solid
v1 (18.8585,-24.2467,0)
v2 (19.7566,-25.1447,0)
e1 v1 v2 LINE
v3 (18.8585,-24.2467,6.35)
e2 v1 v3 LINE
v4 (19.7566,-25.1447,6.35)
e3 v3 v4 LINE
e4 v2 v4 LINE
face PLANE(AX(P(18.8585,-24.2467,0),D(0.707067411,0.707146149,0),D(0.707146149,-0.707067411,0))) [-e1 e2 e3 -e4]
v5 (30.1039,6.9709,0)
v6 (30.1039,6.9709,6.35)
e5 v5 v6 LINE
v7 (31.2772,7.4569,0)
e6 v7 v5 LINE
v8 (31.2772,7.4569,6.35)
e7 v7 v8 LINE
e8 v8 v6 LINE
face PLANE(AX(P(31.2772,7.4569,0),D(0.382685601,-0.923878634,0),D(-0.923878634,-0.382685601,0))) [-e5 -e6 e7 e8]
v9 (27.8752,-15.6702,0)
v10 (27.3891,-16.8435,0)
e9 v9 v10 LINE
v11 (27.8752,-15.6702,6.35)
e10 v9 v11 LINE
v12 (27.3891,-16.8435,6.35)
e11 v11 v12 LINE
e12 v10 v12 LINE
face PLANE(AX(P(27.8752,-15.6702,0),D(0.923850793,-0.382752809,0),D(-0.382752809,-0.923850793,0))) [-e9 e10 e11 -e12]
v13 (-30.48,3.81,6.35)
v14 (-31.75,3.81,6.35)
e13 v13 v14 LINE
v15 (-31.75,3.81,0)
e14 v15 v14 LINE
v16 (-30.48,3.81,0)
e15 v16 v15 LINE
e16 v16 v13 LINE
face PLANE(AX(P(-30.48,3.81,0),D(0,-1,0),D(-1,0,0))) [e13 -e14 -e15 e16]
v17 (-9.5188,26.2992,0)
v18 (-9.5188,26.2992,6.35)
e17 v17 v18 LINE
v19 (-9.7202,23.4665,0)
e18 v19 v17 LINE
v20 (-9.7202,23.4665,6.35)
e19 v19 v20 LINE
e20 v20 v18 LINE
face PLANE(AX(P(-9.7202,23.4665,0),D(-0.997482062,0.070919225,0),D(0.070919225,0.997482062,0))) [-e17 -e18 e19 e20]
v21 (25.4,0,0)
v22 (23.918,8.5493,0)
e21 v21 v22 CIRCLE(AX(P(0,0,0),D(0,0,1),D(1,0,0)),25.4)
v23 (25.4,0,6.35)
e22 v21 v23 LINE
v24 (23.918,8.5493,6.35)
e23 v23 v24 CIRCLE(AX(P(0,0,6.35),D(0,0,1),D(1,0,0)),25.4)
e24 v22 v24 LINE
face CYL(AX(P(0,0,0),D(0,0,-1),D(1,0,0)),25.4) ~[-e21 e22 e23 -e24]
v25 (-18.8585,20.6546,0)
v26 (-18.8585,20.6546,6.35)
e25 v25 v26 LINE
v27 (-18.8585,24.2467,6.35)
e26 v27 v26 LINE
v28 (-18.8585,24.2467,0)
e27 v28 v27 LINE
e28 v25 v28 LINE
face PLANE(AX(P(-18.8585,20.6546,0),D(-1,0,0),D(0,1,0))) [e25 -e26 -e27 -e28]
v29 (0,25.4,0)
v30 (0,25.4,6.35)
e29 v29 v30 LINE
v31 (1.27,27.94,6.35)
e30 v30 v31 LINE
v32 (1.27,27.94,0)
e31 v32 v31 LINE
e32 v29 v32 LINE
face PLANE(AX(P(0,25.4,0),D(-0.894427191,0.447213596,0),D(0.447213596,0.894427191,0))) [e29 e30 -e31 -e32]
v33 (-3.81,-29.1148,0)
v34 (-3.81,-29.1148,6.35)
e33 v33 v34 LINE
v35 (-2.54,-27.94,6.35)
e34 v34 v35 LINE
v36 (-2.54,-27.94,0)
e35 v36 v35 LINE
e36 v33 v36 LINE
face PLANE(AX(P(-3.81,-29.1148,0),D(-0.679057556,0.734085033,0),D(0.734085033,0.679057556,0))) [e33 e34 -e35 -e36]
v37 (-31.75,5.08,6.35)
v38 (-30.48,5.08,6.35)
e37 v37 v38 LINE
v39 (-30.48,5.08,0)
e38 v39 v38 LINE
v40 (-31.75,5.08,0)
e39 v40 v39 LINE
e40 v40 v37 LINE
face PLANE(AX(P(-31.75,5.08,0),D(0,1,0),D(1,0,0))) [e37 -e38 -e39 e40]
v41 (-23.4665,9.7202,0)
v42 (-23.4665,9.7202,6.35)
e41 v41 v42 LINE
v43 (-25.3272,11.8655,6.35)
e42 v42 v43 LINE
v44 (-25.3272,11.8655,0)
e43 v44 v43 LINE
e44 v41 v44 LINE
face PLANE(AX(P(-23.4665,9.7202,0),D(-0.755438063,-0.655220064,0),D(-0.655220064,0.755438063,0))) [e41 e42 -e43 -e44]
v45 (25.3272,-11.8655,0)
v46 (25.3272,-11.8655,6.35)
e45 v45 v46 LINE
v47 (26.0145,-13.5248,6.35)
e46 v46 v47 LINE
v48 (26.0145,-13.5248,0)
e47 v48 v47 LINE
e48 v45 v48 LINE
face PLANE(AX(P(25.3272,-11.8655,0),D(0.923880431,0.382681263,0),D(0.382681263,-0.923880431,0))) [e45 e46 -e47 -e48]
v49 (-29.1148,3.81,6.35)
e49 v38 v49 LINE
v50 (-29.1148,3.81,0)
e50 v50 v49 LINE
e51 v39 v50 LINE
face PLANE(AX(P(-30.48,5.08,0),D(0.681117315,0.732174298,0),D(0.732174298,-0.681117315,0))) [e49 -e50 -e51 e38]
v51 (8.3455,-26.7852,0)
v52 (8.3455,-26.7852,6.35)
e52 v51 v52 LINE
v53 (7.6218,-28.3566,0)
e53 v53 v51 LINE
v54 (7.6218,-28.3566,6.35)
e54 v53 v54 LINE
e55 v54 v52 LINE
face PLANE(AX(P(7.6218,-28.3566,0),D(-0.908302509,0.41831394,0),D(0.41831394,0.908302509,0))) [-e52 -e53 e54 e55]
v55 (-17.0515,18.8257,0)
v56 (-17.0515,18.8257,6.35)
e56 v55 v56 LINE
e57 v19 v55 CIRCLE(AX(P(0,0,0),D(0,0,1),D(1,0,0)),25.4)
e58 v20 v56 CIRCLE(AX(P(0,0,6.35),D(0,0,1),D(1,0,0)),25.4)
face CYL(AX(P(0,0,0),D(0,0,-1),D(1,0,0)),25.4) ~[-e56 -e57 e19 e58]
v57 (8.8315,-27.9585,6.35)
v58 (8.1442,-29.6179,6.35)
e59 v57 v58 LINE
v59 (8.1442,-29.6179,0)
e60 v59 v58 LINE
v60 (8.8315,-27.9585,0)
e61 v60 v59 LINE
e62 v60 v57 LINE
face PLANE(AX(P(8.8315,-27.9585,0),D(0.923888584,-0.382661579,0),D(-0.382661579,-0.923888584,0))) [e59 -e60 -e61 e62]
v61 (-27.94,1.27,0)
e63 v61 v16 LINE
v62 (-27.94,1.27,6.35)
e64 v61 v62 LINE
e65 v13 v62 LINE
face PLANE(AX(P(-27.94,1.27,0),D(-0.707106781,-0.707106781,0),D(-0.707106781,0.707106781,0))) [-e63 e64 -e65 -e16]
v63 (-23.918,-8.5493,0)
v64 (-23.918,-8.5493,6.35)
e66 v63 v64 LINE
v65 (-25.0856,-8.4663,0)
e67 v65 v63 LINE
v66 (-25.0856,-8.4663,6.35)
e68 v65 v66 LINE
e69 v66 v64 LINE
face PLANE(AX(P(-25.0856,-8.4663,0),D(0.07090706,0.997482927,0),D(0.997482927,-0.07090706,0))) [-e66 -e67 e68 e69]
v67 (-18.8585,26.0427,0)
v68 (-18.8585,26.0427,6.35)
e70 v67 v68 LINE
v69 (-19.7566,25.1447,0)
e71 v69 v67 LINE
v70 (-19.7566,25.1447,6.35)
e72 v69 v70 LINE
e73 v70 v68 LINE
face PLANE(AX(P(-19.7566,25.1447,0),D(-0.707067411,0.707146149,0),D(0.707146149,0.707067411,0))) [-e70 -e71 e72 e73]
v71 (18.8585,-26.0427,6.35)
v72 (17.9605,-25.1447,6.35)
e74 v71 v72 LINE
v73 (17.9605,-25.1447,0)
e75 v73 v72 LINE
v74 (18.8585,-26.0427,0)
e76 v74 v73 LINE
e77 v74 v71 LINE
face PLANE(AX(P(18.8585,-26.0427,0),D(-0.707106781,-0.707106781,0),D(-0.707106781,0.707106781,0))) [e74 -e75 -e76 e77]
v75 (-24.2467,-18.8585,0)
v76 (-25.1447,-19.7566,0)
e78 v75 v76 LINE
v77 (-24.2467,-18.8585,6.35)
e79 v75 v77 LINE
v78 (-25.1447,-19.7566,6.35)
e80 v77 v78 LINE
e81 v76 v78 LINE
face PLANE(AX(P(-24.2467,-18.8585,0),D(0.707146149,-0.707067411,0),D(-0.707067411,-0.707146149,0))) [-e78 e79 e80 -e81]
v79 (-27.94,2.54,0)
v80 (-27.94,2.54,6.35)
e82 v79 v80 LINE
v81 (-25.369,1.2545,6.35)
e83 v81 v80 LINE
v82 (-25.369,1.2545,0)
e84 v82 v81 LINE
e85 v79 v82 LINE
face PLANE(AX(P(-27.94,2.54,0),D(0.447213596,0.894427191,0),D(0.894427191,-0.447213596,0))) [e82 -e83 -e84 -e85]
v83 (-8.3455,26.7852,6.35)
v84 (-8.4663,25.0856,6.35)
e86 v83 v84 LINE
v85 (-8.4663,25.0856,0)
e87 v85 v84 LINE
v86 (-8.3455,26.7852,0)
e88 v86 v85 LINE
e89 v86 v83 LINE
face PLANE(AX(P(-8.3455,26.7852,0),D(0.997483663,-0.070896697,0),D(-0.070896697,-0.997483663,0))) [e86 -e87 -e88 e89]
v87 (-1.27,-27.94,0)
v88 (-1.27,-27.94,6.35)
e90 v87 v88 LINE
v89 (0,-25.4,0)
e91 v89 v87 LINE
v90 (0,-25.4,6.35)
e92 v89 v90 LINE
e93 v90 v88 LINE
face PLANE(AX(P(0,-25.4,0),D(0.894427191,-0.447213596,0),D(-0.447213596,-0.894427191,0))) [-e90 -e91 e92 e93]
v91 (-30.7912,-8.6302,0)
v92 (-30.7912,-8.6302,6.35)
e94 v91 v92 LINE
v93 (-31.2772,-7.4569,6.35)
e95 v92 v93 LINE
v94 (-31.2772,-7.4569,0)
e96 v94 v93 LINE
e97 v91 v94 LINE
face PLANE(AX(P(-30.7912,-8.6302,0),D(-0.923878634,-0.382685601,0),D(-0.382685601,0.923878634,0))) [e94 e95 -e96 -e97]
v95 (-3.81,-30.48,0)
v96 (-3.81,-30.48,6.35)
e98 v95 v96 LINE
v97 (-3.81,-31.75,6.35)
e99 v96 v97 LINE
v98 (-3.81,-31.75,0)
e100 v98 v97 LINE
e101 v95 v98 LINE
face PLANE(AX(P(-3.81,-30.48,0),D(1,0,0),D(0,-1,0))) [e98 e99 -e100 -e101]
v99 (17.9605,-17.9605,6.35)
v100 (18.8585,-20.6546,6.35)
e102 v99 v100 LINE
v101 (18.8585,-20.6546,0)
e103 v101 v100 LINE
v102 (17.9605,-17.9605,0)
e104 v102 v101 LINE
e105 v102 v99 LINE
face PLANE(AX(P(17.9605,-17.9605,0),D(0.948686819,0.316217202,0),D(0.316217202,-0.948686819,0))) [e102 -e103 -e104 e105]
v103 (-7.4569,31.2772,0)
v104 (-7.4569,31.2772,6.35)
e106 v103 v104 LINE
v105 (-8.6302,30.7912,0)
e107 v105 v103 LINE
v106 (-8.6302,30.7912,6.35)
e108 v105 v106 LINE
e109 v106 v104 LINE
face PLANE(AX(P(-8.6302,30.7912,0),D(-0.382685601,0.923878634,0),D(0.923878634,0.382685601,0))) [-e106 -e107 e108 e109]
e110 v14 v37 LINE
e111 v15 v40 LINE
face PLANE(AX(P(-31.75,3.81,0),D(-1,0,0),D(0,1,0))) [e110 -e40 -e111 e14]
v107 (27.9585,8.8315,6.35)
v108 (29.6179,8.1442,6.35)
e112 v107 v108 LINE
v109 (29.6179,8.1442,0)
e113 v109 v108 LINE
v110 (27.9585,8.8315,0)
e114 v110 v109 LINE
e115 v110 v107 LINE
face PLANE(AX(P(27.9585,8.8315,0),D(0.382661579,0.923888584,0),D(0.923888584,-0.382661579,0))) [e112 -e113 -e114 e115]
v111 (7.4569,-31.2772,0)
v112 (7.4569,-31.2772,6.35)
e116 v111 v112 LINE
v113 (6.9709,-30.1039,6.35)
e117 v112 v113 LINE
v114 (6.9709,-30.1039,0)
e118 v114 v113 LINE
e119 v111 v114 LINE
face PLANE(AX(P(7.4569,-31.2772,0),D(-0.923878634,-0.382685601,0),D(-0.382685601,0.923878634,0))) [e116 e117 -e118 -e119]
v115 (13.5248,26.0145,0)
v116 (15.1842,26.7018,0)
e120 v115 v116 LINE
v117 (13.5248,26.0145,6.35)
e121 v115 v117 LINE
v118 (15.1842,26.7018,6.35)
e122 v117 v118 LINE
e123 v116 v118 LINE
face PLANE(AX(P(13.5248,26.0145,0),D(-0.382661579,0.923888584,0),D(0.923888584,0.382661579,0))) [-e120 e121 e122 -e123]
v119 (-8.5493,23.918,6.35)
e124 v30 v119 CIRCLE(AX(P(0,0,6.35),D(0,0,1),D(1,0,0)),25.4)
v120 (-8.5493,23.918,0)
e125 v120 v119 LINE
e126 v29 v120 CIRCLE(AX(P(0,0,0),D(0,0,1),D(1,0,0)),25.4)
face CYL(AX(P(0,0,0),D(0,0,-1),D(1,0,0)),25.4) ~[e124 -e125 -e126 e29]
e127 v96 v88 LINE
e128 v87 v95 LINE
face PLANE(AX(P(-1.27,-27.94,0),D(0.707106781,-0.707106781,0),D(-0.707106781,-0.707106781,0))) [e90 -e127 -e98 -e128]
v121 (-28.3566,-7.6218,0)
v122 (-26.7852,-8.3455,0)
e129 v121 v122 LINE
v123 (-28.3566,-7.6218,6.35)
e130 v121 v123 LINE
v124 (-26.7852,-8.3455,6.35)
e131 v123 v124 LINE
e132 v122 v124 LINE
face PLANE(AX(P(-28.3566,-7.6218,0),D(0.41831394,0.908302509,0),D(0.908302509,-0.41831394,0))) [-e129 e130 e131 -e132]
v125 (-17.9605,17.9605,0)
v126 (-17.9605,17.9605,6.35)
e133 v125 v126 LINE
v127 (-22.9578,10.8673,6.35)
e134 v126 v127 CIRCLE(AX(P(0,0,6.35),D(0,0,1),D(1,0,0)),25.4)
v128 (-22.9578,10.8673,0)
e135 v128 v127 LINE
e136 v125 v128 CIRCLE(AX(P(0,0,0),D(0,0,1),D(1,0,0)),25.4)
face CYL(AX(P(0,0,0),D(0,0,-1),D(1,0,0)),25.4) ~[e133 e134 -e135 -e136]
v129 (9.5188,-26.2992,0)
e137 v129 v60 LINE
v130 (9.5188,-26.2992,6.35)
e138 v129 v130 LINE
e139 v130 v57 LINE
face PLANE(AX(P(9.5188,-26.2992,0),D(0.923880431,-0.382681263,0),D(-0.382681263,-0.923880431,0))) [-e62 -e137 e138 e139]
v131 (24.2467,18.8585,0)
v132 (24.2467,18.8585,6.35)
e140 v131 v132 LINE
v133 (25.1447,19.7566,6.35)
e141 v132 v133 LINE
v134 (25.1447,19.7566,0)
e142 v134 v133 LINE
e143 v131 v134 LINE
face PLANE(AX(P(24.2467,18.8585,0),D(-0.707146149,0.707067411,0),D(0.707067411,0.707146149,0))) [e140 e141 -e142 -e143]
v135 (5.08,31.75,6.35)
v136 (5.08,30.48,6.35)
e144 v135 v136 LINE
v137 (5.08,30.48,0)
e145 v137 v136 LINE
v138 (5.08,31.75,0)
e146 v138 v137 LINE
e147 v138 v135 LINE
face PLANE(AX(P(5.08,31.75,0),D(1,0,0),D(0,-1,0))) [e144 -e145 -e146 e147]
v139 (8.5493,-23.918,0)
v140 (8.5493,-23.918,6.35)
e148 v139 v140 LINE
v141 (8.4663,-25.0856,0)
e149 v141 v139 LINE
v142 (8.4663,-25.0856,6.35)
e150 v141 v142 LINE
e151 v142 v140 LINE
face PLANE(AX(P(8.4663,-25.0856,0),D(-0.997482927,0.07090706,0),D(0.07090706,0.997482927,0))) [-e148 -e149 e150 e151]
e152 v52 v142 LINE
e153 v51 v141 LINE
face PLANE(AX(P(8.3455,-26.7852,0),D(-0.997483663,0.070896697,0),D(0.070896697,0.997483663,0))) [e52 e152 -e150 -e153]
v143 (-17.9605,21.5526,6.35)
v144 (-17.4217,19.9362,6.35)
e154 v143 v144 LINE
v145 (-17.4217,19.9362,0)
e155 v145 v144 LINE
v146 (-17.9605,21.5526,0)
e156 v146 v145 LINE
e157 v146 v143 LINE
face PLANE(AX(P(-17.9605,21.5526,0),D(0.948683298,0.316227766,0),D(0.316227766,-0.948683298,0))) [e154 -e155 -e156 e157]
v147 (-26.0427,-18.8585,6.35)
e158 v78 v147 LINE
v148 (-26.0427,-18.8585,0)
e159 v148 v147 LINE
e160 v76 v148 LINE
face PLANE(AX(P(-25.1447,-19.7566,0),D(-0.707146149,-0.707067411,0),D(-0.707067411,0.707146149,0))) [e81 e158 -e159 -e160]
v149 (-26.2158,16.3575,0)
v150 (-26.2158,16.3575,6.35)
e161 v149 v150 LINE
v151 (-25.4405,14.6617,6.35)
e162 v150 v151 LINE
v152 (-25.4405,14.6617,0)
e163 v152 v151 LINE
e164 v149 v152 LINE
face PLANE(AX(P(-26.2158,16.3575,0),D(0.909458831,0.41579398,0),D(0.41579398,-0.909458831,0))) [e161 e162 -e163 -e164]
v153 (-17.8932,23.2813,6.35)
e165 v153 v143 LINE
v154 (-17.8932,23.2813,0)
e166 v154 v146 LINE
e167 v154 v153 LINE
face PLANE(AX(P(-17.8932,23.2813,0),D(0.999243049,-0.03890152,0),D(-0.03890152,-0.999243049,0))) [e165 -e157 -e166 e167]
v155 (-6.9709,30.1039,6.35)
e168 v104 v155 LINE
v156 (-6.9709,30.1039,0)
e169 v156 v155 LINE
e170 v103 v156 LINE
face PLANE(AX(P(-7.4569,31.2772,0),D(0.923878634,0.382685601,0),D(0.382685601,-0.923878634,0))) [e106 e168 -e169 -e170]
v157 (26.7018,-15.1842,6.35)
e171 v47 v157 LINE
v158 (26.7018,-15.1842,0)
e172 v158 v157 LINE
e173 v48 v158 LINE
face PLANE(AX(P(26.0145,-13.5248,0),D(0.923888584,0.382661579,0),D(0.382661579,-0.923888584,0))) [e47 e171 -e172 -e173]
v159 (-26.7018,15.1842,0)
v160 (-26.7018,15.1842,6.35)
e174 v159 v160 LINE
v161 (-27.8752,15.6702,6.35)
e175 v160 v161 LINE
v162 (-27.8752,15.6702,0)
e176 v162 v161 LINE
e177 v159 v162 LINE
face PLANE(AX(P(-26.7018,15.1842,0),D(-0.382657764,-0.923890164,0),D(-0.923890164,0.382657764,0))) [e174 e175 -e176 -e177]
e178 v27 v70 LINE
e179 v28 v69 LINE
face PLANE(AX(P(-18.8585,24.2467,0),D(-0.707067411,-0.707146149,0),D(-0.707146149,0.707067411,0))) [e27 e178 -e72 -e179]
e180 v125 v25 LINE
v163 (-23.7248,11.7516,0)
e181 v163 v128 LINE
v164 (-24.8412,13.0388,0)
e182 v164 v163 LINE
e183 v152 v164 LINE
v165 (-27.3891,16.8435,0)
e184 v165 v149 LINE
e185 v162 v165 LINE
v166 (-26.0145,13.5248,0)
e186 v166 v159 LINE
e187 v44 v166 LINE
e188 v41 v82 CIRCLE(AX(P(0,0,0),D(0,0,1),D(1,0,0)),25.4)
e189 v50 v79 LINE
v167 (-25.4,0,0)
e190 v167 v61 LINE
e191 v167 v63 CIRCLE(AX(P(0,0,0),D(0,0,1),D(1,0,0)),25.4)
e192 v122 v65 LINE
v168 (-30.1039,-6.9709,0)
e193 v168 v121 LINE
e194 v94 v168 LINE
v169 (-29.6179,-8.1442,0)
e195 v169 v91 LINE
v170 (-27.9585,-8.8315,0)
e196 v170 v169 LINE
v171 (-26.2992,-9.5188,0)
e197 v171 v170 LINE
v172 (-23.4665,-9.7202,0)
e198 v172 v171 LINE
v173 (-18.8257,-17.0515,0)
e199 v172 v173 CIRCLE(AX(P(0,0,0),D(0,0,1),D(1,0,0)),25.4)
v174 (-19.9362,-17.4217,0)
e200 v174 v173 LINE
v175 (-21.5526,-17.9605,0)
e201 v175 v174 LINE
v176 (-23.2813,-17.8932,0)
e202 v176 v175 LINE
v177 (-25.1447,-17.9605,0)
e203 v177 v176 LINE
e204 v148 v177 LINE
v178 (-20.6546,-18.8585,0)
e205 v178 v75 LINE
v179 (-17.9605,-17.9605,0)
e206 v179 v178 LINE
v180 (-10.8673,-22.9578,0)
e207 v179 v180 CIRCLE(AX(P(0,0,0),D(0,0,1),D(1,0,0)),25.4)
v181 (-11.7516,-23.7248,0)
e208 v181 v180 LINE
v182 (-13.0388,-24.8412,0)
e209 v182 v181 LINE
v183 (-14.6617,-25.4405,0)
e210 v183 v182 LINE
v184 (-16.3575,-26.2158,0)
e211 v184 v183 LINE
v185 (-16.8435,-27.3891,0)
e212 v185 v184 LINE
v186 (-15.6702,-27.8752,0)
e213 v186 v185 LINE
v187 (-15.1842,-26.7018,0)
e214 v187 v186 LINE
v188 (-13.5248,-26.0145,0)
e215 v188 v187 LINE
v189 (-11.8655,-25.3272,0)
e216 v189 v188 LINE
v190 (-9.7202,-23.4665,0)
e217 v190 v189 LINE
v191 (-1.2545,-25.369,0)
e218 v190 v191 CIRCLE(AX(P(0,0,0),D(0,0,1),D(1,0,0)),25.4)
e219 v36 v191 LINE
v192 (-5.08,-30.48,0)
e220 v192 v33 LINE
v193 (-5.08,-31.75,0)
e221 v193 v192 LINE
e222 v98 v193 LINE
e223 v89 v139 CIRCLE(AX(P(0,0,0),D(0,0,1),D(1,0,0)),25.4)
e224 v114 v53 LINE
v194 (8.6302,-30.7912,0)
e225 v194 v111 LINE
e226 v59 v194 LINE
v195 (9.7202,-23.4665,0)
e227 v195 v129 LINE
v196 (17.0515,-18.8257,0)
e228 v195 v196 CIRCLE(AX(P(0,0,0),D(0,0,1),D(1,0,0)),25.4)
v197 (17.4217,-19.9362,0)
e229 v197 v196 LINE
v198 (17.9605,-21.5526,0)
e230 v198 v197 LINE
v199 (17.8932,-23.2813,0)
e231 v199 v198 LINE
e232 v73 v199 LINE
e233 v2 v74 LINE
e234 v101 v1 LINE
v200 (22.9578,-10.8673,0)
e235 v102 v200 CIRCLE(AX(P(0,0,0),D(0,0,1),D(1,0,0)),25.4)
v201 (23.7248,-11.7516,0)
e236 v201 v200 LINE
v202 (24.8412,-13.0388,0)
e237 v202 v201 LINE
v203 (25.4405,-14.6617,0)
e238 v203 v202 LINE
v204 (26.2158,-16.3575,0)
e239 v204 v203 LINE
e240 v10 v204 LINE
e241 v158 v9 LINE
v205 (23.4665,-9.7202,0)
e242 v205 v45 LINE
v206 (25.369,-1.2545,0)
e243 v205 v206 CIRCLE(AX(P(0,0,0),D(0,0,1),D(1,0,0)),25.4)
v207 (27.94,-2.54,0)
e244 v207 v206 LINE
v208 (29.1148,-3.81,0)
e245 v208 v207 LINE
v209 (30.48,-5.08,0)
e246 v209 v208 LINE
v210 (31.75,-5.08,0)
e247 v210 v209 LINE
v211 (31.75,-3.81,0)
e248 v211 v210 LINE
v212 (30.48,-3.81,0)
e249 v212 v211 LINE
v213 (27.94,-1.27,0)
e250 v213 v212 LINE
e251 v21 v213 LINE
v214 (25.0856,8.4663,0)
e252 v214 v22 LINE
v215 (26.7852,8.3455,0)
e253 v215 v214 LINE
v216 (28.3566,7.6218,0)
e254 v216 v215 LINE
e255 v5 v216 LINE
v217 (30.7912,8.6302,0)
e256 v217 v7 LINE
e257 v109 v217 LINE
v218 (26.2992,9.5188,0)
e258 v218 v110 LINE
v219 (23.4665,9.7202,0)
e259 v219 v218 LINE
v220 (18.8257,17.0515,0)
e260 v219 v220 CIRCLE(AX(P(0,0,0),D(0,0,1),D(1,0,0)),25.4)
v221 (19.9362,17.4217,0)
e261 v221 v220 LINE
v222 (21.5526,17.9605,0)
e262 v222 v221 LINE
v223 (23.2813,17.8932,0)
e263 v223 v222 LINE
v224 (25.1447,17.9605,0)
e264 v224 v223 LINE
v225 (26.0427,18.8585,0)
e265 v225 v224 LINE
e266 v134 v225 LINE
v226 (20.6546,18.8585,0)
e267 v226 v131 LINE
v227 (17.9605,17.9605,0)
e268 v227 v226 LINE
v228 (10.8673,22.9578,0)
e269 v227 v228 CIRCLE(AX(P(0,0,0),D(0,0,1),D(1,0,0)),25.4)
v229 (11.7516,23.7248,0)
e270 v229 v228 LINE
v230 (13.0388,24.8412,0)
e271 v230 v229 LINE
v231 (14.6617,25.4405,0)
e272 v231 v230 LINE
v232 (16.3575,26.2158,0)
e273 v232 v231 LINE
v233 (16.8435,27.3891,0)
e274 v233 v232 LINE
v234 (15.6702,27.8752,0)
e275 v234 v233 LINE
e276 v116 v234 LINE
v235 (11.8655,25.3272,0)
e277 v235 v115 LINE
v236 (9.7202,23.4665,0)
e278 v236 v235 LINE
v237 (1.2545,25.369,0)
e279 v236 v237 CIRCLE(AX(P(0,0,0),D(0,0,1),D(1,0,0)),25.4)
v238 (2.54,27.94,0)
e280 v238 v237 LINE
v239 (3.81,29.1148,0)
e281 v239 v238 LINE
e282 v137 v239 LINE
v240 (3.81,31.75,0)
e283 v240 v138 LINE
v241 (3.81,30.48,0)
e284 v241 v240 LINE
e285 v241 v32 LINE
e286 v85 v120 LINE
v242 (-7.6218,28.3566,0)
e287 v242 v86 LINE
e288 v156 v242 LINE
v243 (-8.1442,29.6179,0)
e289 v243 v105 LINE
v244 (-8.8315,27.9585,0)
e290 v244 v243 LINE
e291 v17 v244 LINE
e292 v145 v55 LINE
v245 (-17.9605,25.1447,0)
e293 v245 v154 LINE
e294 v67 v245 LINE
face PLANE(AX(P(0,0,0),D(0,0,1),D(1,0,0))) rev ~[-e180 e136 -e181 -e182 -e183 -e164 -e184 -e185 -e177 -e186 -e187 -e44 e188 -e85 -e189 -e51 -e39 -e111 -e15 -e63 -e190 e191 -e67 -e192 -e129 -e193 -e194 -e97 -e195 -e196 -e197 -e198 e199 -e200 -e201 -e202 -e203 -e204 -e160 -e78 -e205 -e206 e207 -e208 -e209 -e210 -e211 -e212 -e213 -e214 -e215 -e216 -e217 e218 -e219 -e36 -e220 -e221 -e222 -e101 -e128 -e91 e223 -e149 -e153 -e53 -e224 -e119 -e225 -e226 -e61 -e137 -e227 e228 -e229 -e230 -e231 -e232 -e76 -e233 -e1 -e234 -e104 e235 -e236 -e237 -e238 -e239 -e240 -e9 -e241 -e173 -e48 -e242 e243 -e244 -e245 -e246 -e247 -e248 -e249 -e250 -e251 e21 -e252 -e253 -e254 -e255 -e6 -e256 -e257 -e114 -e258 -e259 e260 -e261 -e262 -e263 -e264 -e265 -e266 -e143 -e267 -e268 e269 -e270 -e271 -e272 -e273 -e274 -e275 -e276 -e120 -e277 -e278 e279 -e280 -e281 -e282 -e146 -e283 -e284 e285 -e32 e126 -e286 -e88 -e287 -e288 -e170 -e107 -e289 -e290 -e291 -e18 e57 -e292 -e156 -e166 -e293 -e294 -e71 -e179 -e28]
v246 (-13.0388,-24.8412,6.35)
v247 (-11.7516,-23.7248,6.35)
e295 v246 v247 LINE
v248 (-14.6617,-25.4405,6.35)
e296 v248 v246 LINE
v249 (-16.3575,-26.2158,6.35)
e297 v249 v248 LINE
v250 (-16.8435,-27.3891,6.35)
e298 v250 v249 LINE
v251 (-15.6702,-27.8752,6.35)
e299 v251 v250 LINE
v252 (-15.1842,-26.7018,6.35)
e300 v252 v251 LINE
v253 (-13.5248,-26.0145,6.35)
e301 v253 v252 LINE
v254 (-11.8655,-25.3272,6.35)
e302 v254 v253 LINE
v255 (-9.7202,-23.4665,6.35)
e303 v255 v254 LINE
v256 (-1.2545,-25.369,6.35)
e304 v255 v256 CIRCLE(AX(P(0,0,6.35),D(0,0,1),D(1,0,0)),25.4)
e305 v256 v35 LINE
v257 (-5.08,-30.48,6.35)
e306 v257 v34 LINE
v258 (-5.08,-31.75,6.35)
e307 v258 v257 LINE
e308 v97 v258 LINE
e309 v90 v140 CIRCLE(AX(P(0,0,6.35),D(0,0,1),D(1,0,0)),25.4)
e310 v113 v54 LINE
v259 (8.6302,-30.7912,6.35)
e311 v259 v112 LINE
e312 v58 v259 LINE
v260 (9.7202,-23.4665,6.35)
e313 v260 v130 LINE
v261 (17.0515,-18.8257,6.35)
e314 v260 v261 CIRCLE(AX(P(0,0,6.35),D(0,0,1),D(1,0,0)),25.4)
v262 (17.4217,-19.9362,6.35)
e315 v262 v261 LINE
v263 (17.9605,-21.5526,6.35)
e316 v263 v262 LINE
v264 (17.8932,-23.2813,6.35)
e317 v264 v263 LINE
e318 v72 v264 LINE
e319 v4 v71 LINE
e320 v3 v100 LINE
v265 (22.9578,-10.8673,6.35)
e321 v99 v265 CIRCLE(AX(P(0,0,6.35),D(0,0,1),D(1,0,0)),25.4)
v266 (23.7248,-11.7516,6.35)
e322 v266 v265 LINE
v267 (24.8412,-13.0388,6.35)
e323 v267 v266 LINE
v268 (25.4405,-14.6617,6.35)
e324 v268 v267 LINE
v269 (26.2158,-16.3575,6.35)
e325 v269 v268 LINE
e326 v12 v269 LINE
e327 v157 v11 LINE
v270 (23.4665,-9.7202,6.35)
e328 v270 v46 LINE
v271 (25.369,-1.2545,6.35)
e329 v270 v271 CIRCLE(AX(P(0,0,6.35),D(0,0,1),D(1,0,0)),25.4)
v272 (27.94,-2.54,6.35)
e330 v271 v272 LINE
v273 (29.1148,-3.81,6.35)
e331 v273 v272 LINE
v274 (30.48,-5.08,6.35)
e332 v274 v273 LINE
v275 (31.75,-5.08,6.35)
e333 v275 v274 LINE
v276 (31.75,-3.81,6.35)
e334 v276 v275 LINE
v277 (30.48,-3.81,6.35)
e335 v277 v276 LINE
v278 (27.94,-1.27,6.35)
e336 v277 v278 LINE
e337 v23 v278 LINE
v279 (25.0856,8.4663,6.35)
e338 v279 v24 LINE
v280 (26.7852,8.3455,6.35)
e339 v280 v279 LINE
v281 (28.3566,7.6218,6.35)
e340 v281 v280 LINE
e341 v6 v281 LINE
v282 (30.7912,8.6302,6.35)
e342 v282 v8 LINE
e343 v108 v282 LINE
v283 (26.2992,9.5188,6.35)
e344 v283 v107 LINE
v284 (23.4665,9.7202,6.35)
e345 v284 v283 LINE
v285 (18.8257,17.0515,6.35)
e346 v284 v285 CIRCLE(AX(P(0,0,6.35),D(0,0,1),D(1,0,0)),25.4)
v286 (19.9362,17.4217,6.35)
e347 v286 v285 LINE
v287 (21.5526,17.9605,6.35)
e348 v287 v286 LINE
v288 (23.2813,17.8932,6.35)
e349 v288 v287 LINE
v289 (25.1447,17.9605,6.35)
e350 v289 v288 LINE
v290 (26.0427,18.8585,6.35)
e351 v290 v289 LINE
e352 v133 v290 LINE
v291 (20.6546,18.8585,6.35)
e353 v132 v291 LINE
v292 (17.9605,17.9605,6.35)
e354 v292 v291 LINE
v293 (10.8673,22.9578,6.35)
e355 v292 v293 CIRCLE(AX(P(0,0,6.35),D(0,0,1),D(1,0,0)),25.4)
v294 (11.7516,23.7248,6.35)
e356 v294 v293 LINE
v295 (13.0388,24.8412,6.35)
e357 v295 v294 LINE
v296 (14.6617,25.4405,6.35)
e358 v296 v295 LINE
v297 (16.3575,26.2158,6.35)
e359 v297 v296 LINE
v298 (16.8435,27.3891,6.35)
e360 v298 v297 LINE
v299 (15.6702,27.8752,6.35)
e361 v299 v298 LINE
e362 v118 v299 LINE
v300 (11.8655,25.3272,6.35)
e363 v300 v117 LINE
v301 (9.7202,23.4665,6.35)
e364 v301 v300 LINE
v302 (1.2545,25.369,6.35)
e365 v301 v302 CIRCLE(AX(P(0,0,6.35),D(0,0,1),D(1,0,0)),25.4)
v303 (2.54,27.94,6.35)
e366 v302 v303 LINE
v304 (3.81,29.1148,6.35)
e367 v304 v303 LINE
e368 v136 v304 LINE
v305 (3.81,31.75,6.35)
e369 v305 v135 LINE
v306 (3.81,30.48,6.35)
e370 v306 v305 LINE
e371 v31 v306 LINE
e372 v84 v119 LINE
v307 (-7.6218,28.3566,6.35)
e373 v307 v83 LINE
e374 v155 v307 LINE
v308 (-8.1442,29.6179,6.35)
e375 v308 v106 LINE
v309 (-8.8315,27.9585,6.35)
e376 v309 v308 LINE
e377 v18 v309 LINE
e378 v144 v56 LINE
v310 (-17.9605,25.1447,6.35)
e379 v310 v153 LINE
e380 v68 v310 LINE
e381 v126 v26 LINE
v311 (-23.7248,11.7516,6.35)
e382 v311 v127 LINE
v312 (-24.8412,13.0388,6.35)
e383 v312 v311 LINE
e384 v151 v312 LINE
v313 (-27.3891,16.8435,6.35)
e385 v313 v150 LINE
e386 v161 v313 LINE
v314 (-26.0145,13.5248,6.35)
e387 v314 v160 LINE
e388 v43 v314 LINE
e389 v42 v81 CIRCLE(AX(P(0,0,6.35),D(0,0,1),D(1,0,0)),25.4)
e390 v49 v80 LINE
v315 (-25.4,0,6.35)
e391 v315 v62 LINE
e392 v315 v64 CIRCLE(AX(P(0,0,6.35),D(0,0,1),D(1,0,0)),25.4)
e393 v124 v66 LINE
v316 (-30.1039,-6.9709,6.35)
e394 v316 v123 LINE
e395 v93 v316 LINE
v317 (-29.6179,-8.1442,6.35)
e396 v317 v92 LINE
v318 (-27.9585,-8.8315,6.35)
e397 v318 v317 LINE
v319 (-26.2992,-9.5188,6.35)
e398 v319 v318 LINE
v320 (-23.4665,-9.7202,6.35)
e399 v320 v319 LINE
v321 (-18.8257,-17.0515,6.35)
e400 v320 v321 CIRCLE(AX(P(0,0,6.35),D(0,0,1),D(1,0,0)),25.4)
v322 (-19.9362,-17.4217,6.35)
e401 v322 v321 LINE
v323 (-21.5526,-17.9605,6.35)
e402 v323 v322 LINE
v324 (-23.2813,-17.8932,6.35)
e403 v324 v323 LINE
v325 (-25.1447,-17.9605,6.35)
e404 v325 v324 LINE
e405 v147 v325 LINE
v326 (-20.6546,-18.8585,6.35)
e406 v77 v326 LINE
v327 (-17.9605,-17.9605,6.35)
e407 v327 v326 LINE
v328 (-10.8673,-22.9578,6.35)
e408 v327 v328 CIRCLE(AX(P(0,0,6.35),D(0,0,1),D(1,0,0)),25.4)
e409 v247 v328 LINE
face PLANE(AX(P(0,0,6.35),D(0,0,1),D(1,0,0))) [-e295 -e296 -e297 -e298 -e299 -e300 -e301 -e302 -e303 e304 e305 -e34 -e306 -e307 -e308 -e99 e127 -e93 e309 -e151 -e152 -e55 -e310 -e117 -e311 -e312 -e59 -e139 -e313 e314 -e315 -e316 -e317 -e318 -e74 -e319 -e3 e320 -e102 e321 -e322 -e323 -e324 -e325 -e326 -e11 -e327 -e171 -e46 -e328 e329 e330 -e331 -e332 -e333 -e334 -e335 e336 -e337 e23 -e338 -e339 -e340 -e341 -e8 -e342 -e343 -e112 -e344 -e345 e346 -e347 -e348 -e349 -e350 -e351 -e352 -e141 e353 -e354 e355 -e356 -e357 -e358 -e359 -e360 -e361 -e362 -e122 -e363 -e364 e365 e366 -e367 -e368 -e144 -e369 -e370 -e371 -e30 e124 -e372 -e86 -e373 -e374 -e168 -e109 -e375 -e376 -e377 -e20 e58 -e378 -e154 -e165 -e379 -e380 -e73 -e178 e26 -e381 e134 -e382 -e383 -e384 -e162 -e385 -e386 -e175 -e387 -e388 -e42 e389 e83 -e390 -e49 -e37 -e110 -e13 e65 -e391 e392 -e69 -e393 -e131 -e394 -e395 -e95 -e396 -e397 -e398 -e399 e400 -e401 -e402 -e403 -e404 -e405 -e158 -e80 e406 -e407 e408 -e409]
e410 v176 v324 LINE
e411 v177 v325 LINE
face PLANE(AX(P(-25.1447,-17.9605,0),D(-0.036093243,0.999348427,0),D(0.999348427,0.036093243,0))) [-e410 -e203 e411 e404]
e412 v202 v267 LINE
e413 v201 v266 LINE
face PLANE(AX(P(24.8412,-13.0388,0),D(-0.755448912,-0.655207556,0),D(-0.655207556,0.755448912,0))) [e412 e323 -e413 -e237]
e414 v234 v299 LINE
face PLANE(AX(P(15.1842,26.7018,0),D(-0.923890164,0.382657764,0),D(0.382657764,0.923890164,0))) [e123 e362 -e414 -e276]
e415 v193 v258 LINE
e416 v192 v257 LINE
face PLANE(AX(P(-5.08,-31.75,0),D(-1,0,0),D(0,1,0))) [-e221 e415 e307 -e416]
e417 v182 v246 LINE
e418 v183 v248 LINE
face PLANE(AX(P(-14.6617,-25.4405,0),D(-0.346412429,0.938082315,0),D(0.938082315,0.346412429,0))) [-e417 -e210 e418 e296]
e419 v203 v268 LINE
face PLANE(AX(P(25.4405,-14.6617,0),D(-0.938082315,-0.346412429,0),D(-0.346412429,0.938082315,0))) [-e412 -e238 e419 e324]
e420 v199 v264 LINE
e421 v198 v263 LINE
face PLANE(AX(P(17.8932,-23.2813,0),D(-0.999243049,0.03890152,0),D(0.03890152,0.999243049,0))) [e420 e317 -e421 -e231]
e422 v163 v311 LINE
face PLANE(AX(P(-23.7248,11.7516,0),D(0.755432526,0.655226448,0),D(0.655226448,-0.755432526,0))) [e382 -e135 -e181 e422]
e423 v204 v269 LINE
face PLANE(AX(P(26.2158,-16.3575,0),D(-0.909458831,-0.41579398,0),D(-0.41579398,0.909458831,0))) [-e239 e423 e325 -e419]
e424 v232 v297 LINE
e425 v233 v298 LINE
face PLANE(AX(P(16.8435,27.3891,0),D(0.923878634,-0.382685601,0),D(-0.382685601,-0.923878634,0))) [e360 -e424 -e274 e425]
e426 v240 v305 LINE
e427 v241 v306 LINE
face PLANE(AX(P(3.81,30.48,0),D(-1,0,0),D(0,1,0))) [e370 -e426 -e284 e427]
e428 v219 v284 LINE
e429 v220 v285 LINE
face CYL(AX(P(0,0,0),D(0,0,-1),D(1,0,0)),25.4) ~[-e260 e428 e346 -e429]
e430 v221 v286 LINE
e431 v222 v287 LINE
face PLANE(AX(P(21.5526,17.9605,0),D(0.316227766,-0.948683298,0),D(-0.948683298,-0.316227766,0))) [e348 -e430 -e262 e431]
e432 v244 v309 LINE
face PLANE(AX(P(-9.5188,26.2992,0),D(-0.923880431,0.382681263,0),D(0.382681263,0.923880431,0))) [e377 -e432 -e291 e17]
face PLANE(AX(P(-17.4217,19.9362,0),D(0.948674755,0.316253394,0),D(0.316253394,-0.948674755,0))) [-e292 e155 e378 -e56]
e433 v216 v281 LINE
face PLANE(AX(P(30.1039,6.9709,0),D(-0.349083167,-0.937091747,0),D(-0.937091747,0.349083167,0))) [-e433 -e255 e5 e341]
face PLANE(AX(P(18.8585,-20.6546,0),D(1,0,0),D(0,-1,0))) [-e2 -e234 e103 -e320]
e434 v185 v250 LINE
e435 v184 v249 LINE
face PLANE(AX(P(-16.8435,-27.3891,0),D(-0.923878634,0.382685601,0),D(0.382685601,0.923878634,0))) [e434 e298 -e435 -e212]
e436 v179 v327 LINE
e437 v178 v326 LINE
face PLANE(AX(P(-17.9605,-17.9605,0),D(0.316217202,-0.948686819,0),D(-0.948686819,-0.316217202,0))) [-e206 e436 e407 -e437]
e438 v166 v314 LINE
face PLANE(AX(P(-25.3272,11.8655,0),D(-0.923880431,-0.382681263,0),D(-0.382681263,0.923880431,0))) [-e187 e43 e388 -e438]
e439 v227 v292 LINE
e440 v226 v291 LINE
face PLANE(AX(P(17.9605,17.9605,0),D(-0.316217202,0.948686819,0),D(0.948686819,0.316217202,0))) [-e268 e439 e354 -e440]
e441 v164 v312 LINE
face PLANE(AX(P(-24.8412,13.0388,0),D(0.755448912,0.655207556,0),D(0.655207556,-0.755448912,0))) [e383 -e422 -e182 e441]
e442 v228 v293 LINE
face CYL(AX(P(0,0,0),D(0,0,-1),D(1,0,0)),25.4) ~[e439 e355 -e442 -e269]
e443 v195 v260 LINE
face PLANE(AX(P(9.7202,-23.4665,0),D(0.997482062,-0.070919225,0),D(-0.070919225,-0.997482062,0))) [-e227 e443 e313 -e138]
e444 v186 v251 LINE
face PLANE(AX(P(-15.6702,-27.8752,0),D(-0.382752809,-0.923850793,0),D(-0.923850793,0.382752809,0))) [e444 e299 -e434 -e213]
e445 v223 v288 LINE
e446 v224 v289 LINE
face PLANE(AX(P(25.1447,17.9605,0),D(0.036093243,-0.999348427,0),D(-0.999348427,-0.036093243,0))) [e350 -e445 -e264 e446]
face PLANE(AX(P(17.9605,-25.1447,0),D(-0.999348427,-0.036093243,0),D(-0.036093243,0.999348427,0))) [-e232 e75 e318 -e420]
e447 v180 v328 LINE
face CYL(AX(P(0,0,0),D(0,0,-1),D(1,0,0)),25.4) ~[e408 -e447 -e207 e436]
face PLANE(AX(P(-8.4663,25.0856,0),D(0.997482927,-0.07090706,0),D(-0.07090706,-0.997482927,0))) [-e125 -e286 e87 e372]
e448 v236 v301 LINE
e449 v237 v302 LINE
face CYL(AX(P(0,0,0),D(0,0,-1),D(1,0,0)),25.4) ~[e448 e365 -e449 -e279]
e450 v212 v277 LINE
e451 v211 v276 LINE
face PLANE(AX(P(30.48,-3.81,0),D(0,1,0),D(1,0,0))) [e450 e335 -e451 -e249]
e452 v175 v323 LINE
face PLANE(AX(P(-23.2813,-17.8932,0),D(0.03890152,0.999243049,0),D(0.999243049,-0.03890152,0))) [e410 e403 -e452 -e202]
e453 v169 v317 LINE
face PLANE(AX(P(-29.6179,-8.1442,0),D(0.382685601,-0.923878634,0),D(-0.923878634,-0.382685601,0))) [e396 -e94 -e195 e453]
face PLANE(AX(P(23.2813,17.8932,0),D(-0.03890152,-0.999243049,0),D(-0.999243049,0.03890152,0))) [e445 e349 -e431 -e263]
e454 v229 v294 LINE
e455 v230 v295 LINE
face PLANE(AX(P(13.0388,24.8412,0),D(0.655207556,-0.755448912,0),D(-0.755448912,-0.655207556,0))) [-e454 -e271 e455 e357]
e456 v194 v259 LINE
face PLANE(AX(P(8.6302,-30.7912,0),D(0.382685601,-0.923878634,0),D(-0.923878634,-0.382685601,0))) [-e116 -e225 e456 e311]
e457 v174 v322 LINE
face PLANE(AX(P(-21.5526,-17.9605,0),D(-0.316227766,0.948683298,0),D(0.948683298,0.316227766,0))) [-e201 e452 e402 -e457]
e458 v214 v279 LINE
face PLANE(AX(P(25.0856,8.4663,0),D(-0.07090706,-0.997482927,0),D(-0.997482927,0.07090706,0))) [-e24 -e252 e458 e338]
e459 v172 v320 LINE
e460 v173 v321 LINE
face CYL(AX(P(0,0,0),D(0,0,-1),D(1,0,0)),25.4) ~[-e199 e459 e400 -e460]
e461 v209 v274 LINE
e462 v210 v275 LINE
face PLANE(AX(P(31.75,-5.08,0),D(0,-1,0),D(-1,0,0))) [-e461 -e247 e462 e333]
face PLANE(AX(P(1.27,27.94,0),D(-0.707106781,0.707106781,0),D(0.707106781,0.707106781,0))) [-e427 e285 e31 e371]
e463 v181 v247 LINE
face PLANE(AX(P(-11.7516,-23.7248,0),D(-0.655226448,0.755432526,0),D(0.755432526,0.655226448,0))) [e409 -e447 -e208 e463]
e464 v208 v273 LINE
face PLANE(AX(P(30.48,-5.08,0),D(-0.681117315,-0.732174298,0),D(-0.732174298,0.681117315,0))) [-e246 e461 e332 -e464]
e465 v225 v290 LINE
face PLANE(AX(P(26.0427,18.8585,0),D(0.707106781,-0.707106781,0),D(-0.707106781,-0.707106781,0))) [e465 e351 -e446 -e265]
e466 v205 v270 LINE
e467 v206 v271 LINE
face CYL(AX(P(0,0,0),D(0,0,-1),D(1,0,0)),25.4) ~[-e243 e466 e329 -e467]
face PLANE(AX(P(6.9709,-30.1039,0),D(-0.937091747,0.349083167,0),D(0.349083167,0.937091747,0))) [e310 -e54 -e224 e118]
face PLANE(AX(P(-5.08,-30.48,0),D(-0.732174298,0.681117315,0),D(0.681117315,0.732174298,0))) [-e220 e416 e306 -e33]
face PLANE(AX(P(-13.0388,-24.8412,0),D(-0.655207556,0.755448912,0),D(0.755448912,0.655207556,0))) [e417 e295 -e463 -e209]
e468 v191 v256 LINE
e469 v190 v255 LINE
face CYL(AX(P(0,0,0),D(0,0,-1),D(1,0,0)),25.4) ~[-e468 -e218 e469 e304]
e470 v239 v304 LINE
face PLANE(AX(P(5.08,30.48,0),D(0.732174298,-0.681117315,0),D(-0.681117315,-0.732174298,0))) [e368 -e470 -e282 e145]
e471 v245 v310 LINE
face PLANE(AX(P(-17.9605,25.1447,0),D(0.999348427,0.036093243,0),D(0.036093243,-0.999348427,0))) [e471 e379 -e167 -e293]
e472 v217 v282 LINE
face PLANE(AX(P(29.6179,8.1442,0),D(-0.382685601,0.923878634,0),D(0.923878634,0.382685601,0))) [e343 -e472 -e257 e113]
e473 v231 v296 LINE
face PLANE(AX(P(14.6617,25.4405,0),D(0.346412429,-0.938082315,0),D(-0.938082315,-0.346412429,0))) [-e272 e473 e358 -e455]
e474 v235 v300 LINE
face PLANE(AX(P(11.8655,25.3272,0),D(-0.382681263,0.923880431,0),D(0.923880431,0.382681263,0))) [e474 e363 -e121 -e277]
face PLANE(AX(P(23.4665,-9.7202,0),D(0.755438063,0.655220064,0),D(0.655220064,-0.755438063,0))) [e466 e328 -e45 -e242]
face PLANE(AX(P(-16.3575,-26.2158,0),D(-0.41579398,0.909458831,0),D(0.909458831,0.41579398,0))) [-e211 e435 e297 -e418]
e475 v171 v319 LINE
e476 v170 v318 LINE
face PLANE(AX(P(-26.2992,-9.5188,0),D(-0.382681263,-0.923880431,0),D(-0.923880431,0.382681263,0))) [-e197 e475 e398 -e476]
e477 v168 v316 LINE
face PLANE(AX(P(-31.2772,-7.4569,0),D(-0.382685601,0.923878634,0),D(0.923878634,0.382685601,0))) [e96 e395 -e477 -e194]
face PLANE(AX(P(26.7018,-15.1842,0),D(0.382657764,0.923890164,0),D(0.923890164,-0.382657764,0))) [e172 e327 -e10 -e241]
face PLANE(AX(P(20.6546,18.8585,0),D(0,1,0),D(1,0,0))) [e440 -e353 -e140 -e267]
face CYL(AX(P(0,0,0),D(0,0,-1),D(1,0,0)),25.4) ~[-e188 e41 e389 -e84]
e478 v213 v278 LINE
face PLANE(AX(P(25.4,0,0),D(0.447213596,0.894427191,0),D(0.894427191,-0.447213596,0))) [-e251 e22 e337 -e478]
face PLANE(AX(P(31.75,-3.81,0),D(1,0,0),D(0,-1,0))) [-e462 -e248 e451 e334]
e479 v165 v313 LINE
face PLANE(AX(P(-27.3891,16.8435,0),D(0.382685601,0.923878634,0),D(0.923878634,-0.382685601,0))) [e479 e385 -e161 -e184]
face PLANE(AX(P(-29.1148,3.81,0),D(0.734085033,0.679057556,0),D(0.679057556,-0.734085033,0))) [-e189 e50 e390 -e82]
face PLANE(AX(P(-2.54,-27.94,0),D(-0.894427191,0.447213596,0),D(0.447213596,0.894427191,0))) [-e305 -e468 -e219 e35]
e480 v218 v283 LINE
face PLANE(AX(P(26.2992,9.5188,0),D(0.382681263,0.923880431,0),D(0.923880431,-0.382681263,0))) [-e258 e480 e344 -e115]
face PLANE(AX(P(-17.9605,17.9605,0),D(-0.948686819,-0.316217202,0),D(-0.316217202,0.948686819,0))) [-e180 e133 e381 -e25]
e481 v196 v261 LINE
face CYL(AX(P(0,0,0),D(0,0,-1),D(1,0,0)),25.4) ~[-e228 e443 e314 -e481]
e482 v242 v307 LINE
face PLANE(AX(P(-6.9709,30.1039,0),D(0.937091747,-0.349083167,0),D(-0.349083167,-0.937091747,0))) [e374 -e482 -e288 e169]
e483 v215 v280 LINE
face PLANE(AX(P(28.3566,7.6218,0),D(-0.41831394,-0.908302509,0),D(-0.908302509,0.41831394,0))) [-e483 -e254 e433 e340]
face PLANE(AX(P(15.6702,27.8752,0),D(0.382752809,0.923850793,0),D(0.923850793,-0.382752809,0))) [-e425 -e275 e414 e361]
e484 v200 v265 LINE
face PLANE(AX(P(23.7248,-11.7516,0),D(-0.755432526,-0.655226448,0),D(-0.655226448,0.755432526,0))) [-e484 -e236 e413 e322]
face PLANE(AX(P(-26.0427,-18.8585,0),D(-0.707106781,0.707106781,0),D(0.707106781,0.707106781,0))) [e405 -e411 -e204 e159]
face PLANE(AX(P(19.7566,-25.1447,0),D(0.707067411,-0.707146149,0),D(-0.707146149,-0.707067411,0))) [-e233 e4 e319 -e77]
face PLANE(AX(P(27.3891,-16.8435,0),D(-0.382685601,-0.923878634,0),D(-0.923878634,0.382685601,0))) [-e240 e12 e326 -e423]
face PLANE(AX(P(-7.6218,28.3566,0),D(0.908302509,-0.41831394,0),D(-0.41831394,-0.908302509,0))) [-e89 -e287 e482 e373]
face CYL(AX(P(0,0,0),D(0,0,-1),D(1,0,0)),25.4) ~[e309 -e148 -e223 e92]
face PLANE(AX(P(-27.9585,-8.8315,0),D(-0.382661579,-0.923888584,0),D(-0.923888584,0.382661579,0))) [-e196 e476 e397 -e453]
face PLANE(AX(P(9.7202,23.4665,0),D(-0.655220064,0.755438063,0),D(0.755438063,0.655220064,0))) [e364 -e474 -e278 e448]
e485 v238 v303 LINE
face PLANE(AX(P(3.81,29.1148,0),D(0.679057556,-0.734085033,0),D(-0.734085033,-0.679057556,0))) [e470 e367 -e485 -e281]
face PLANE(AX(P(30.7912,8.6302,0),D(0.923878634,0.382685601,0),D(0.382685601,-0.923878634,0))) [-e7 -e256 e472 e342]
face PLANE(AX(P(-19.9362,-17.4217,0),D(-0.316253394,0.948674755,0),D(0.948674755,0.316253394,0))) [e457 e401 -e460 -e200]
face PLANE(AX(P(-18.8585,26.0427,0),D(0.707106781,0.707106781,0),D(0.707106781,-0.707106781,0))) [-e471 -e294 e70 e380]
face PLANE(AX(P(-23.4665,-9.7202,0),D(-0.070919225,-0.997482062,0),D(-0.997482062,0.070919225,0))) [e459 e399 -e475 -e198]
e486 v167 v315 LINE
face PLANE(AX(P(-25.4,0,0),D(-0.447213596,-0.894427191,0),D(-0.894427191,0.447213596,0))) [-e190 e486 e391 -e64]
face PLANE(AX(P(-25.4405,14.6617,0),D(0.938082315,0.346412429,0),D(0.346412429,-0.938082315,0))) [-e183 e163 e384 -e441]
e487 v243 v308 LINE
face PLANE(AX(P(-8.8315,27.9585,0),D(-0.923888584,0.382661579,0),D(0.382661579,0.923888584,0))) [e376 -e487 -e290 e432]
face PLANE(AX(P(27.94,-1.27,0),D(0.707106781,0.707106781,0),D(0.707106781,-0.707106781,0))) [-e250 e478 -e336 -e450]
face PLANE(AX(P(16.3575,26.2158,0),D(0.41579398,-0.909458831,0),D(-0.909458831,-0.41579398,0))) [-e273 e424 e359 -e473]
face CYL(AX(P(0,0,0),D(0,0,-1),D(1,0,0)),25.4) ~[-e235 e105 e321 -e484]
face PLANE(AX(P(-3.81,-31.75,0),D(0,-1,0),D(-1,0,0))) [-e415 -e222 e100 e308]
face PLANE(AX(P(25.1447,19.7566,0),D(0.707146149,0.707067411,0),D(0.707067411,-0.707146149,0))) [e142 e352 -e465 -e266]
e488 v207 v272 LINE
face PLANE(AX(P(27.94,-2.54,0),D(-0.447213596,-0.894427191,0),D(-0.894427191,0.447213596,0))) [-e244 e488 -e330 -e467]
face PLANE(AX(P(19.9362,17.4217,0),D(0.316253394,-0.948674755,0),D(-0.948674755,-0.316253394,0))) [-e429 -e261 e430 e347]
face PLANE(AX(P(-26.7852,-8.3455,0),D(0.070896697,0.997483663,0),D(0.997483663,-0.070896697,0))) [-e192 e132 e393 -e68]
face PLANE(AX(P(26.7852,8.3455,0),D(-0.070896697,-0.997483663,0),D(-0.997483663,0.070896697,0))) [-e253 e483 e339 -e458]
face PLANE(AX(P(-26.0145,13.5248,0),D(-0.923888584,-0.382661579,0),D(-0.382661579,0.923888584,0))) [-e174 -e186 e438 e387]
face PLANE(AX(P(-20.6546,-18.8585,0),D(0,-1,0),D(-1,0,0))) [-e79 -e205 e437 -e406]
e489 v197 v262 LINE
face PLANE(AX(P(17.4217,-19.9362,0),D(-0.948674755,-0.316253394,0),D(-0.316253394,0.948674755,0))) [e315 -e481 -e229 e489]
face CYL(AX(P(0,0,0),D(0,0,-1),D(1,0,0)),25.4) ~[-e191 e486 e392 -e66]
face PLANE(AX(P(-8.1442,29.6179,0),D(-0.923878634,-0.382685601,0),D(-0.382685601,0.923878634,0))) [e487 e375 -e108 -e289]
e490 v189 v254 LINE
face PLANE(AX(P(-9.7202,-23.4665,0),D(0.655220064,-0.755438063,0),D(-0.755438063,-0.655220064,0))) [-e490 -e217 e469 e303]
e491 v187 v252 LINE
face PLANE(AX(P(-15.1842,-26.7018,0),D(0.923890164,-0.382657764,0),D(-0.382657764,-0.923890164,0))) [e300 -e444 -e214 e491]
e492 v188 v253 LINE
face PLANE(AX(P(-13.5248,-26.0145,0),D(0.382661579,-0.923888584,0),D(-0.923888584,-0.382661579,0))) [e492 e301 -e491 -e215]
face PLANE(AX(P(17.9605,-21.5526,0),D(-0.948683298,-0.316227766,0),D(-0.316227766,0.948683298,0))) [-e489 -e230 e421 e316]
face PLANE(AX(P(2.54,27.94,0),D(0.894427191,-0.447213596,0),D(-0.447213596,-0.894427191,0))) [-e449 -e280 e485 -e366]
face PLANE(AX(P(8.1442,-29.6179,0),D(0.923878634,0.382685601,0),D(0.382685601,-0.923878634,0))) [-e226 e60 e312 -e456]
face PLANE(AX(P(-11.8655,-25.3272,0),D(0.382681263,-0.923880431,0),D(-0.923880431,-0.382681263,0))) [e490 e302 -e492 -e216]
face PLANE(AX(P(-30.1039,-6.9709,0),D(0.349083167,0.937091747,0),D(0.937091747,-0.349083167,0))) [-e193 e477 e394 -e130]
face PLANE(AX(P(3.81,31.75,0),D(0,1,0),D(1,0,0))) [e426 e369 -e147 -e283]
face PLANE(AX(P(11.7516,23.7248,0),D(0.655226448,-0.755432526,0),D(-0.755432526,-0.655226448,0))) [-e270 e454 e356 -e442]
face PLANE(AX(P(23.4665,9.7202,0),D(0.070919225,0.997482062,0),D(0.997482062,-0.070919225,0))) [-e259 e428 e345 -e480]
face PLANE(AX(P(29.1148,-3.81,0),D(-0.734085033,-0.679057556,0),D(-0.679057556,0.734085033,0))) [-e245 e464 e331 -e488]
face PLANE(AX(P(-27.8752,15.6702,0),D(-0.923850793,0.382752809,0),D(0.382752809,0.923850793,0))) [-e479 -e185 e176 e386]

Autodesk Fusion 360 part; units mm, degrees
sketch "Sketch1" plane through (0, 0, 0) normal (0, 0, 1) x (1, 0, 0)
  line L0 (0, 25.4) -> (1.27, 27.94)
  line L1 (1.27, 27.94) -> (2.54, 29.21)
  line L2 (2.54, 29.21) -> (3.81, 30.48)
  line L3 (3.81, 30.48) -> (3.81, 31.75)
  line L4 (3.81, 31.75) -> (5.08, 31.75)
  line L5 (5.08, 31.75) -> (5.08, 30.48)
  line L6 (5.08, 30.48) -> (3.81, 29.1148)
  line L7 (3.81, 29.1148) -> (2.54, 27.94)
  line L8 (2.54, 27.94) -> (1.778, 26.416)
  line L9 (1.778, 26.416) -> (1.2545, 25.369)
  arc A0 (1.2545, 25.369) -> (0, 25.4) centre (0, 0) ccw
  line L10 (-8.4663, 25.0856) -> (-8.5493, 23.918)
  line L11 (-8.8315, 27.9585) -> (-8.1442, 29.6179)
  arc A1 (-8.5493, 23.918) -> (-9.7202, 23.4665) centre (0, 0) ccw
  line L12 (-7.4569, 31.2772) -> (-6.9709, 30.1039)
  line L13 (-8.3455, 26.7852) -> (-8.4663, 25.0856)
  line L14 (-6.9709, 30.1039) -> (-7.6218, 28.3566)
  line L15 (-9.5188, 26.2992) -> (-8.8315, 27.9585)
  line L16 (-8.1442, 29.6179) -> (-8.6302, 30.7912)
  line L17 (-8.6302, 30.7912) -> (-7.4569, 31.2772)
  line L18 (-9.7202, 23.4665) -> (-9.5188, 26.2992)
  line L19 (-7.6218, 28.3566) -> (-8.3455, 26.7852)
  line L20 (-17.4217, 19.9362) -> (-17.0515, 18.8257)
  line L21 (-18.8585, 22.4506) -> (-18.8585, 24.2467)
  arc A2 (-17.0515, 18.8257) -> (-17.9605, 17.9605) centre (0, 0) ccw
  line L22 (-18.8585, 26.0427) -> (-17.9605, 25.1447)
  line L23 (-17.9605, 21.5526) -> (-17.4217, 19.9362)
  line L24 (-17.9605, 25.1447) -> (-17.8932, 23.2813)
  line L25 (-18.8585, 20.6546) -> (-18.8585, 22.4506)
  line L26 (-18.8585, 24.2467) -> (-19.7566, 25.1447)
  line L27 (-19.7566, 25.1447) -> (-18.8585, 26.0427)
  line L28 (-17.9605, 17.9605) -> (-18.8585, 20.6546)
  line L29 (-17.8932, 23.2813) -> (-17.9605, 21.5526)
  line L30 (-23.7248, 11.7516) -> (-22.9578, 10.8673)
  line L31 (-26.0145, 13.5248) -> (-26.7018, 15.1842)
  arc A3 (-22.9578, 10.8673) -> (-23.4665, 9.7202) centre (0, 0) ccw
  line L32 (-27.3891, 16.8435) -> (-26.2158, 16.3575)
  line L33 (-24.8412, 13.0388) -> (-23.7248, 11.7516)
  line L34 (-26.2158, 16.3575) -> (-25.4405, 14.6617)
  line L35 (-25.3272, 11.8655) -> (-26.0145, 13.5248)
  line L36 (-26.7018, 15.1842) -> (-27.8752, 15.6702)
  line L37 (-27.8752, 15.6702) -> (-27.3891, 16.8435)
  line L38 (-23.4665, 9.7202) -> (-25.3272, 11.8655)
  line L39 (-25.4405, 14.6617) -> (-24.8412, 13.0388)
  line L40 (-26.416, 1.778) -> (-25.369, 1.2545)
  line L41 (-29.21, 2.54) -> (-30.48, 3.81)
  arc A4 (-25.369, 1.2545) -> (-25.4, 0) centre (0, 0) ccw
  line L42 (-31.75, 5.08) -> (-30.48, 5.08)
  line L43 (-27.94, 2.54) -> (-26.416, 1.778)
  line L44 (-30.48, 5.08) -> (-29.1148, 3.81)
  line L45 (-27.94, 1.27) -> (-29.21, 2.54)
  line L46 (-30.48, 3.81) -> (-31.75, 3.81)
  line L47 (-31.75, 3.81) -> (-31.75, 5.08)
  line L48 (-25.4, 0) -> (-27.94, 1.27)
  line L49 (-29.1148, 3.81) -> (-27.94, 2.54)
  line L50 (-25.0856, -8.4663) -> (-23.918, -8.5493)
  line L51 (-27.9585, -8.8315) -> (-29.6179, -8.1442)
  arc A5 (-23.918, -8.5493) -> (-23.4665, -9.7202) centre (0, 0) ccw
  line L52 (-31.2772, -7.4569) -> (-30.1039, -6.9709)
  line L53 (-26.7852, -8.3455) -> (-25.0856, -8.4663)
  line L54 (-30.1039, -6.9709) -> (-28.3566, -7.6218)
  line L55 (-26.2992, -9.5188) -> (-27.9585, -8.8315)
  line L56 (-29.6179, -8.1442) -> (-30.7912, -8.6302)
  line L57 (-30.7912, -8.6302) -> (-31.2772, -7.4569)
  line L58 (-23.4665, -9.7202) -> (-26.2992, -9.5188)
  line L59 (-28.3566, -7.6218) -> (-26.7852, -8.3455)
  line L60 (-19.9362, -17.4217) -> (-18.8257, -17.0515)
  line L61 (-22.4506, -18.8585) -> (-24.2467, -18.8585)
  arc A6 (-18.8257, -17.0515) -> (-17.9605, -17.9605) centre (0, 0) ccw
  line L62 (-26.0427, -18.8585) -> (-25.1447, -17.9605)
  line L63 (-21.5526, -17.9605) -> (-19.9362, -17.4217)
  line L64 (-25.1447, -17.9605) -> (-23.2813, -17.8932)
  line L65 (-20.6546, -18.8585) -> (-22.4506, -18.8585)
  line L66 (-24.2467, -18.8585) -> (-25.1447, -19.7566)
  line L67 (-25.1447, -19.7566) -> (-26.0427, -18.8585)
  line L68 (-17.9605, -17.9605) -> (-20.6546, -18.8585)
  line L69 (-23.2813, -17.8932) -> (-21.5526, -17.9605)
  line L70 (-11.7516, -23.7248) -> (-10.8673, -22.9578)
  line L71 (-13.5248, -26.0145) -> (-15.1842, -26.7018)
  arc A7 (-10.8673, -22.9578) -> (-9.7202, -23.4665) centre (0, 0) ccw
  line L72 (-16.8435, -27.3891) -> (-16.3575, -26.2158)
  line L73 (-13.0388, -24.8412) -> (-11.7516, -23.7248)
  line L74 (-16.3575, -26.2158) -> (-14.6617, -25.4405)
  line L75 (-11.8655, -25.3272) -> (-13.5248, -26.0145)
  line L76 (-15.1842, -26.7018) -> (-15.6702, -27.8752)
  line L77 (-15.6702, -27.8752) -> (-16.8435, -27.3891)
  line L78 (-9.7202, -23.4665) -> (-11.8655, -25.3272)
  line L79 (-14.6617, -25.4405) -> (-13.0388, -24.8412)
  line L80 (-1.778, -26.416) -> (-1.2545, -25.369)
  line L81 (-2.54, -29.21) -> (-3.81, -30.48)
  arc A8 (-1.2545, -25.369) -> (0, -25.4) centre (0, 0) ccw
  line L82 (-5.08, -31.75) -> (-5.08, -30.48)
  line L83 (-2.54, -27.94) -> (-1.778, -26.416)
  line L84 (-5.08, -30.48) -> (-3.81, -29.1148)
  line L85 (-1.27, -27.94) -> (-2.54, -29.21)
  line L86 (-3.81, -30.48) -> (-3.81, -31.75)
  line L87 (-3.81, -31.75) -> (-5.08, -31.75)
  line L88 (0, -25.4) -> (-1.27, -27.94)
  line L89 (-3.81, -29.1148) -> (-2.54, -27.94)
  line L90 (8.4663, -25.0856) -> (8.5493, -23.918)
  line L91 (8.8315, -27.9585) -> (8.1442, -29.6179)
  arc A9 (8.5493, -23.918) -> (9.7202, -23.4665) centre (0, 0) ccw
  line L92 (7.4569, -31.2772) -> (6.9709, -30.1039)
  line L93 (8.3455, -26.7852) -> (8.4663, -25.0856)
  line L94 (6.9709, -30.1039) -> (7.6218, -28.3566)
  line L95 (9.5188, -26.2992) -> (8.8315, -27.9585)
  line L96 (8.1442, -29.6179) -> (8.6302, -30.7912)
  line L97 (8.6302, -30.7912) -> (7.4569, -31.2772)
  line L98 (9.7202, -23.4665) -> (9.5188, -26.2992)
  line L99 (7.6218, -28.3566) -> (8.3455, -26.7852)
  line L100 (17.4217, -19.9362) -> (17.0515, -18.8257)
  line L101 (18.8585, -22.4506) -> (18.8585, -24.2467)
  arc A10 (17.0515, -18.8257) -> (17.9605, -17.9605) centre (0, 0) ccw
  line L102 (18.8585, -26.0427) -> (17.9605, -25.1447)
  line L103 (17.9605, -21.5526) -> (17.4217, -19.9362)
  line L104 (17.9605, -25.1447) -> (17.8932, -23.2813)
  line L105 (18.8585, -20.6546) -> (18.8585, -22.4506)
  line L106 (18.8585, -24.2467) -> (19.7566, -25.1447)
  line L107 (19.7566, -25.1447) -> (18.8585, -26.0427)
  line L108 (17.9605, -17.9605) -> (18.8585, -20.6546)
  line L109 (17.8932, -23.2813) -> (17.9605, -21.5526)
  line L110 (23.7248, -11.7516) -> (22.9578, -10.8673)
  line L111 (26.0145, -13.5248) -> (26.7018, -15.1842)
  arc A11 (22.9578, -10.8673) -> (23.4665, -9.7202) centre (0, 0) ccw
  line L112 (27.3891, -16.8435) -> (26.2158, -16.3575)
  line L113 (24.8412, -13.0388) -> (23.7248, -11.7516)
  line L114 (26.2158, -16.3575) -> (25.4405, -14.6617)
  line L115 (25.3272, -11.8655) -> (26.0145, -13.5248)
  line L116 (26.7018, -15.1842) -> (27.8752, -15.6702)
  line L117 (27.8752, -15.6702) -> (27.3891, -16.8435)
  line L118 (23.4665, -9.7202) -> (25.3272, -11.8655)
  line L119 (25.4405, -14.6617) -> (24.8412, -13.0388)
  line L120 (26.416, -1.778) -> (25.369, -1.2545)
  line L121 (29.21, -2.54) -> (30.48, -3.81)
  arc A12 (25.369, -1.2545) -> (25.4, 0) centre (0, 0) ccw
  line L122 (31.75, -5.08) -> (30.48, -5.08)
  line L123 (27.94, -2.54) -> (26.416, -1.778)
  line L124 (30.48, -5.08) -> (29.1148, -3.81)
  line L125 (27.94, -1.27) -> (29.21, -2.54)
  line L126 (30.48, -3.81) -> (31.75, -3.81)
  line L127 (31.75, -3.81) -> (31.75, -5.08)
  line L128 (25.4, 0) -> (27.94, -1.27)
  line L129 (29.1148, -3.81) -> (27.94, -2.54)
  line L130 (25.0856, 8.4663) -> (23.918, 8.5493)
  line L131 (27.9585, 8.8315) -> (29.6179, 8.1442)
  arc A13 (23.918, 8.5493) -> (23.4665, 9.7202) centre (0, 0) ccw
  line L132 (31.2772, 7.4569) -> (30.1039, 6.9709)
  line L133 (26.7852, 8.3455) -> (25.0856, 8.4663)
  line L134 (30.1039, 6.9709) -> (28.3566, 7.6218)
  line L135 (26.2992, 9.5188) -> (27.9585, 8.8315)
  line L136 (29.6179, 8.1442) -> (30.7912, 8.6302)
  line L137 (30.7912, 8.6302) -> (31.2772, 7.4569)
  line L138 (23.4665, 9.7202) -> (26.2992, 9.5188)
  line L139 (28.3566, 7.6218) -> (26.7852, 8.3455)
  line L140 (19.9362, 17.4217) -> (18.8257, 17.0515)
  line L141 (22.4506, 18.8585) -> (24.2467, 18.8585)
  arc A14 (18.8257, 17.0515) -> (17.9605, 17.9605) centre (0, 0) ccw
  line L142 (26.0427, 18.8585) -> (25.1447, 17.9605)
  line L143 (21.5526, 17.9605) -> (19.9362, 17.4217)
  line L144 (25.1447, 17.9605) -> (23.2813, 17.8932)
  line L145 (20.6546, 18.8585) -> (22.4506, 18.8585)
  line L146 (24.2467, 18.8585) -> (25.1447, 19.7566)
  line L147 (25.1447, 19.7566) -> (26.0427, 18.8585)
  line L148 (17.9605, 17.9605) -> (20.6546, 18.8585)
  line L149 (23.2813, 17.8932) -> (21.5526, 17.9605)
  line L150 (11.7516, 23.7248) -> (10.8673, 22.9578)
  line L151 (13.5248, 26.0145) -> (15.1842, 26.7018)
  arc A15 (10.8673, 22.9578) -> (9.7202, 23.4665) centre (0, 0) ccw
  line L152 (16.8435, 27.3891) -> (16.3575, 26.2158)
  line L153 (13.0388, 24.8412) -> (11.7516, 23.7248)
  line L154 (16.3575, 26.2158) -> (14.6617, 25.4405)
  line L155 (11.8655, 25.3272) -> (13.5248, 26.0145)
  line L156 (15.1842, 26.7018) -> (15.6702, 27.8752)
  line L157 (15.6702, 27.8752) -> (16.8435, 27.3891)
  line L158 (9.7202, 23.4665) -> (11.8655, 25.3272)
  line L159 (14.6617, 25.4405) -> (13.0388, 24.8412)
  circle A16 centre (0, 0) radius 25.4
  dimension "d2" = 360
extrude "Extrude1" add sketch "Sketch1" along normal blind 6.35
